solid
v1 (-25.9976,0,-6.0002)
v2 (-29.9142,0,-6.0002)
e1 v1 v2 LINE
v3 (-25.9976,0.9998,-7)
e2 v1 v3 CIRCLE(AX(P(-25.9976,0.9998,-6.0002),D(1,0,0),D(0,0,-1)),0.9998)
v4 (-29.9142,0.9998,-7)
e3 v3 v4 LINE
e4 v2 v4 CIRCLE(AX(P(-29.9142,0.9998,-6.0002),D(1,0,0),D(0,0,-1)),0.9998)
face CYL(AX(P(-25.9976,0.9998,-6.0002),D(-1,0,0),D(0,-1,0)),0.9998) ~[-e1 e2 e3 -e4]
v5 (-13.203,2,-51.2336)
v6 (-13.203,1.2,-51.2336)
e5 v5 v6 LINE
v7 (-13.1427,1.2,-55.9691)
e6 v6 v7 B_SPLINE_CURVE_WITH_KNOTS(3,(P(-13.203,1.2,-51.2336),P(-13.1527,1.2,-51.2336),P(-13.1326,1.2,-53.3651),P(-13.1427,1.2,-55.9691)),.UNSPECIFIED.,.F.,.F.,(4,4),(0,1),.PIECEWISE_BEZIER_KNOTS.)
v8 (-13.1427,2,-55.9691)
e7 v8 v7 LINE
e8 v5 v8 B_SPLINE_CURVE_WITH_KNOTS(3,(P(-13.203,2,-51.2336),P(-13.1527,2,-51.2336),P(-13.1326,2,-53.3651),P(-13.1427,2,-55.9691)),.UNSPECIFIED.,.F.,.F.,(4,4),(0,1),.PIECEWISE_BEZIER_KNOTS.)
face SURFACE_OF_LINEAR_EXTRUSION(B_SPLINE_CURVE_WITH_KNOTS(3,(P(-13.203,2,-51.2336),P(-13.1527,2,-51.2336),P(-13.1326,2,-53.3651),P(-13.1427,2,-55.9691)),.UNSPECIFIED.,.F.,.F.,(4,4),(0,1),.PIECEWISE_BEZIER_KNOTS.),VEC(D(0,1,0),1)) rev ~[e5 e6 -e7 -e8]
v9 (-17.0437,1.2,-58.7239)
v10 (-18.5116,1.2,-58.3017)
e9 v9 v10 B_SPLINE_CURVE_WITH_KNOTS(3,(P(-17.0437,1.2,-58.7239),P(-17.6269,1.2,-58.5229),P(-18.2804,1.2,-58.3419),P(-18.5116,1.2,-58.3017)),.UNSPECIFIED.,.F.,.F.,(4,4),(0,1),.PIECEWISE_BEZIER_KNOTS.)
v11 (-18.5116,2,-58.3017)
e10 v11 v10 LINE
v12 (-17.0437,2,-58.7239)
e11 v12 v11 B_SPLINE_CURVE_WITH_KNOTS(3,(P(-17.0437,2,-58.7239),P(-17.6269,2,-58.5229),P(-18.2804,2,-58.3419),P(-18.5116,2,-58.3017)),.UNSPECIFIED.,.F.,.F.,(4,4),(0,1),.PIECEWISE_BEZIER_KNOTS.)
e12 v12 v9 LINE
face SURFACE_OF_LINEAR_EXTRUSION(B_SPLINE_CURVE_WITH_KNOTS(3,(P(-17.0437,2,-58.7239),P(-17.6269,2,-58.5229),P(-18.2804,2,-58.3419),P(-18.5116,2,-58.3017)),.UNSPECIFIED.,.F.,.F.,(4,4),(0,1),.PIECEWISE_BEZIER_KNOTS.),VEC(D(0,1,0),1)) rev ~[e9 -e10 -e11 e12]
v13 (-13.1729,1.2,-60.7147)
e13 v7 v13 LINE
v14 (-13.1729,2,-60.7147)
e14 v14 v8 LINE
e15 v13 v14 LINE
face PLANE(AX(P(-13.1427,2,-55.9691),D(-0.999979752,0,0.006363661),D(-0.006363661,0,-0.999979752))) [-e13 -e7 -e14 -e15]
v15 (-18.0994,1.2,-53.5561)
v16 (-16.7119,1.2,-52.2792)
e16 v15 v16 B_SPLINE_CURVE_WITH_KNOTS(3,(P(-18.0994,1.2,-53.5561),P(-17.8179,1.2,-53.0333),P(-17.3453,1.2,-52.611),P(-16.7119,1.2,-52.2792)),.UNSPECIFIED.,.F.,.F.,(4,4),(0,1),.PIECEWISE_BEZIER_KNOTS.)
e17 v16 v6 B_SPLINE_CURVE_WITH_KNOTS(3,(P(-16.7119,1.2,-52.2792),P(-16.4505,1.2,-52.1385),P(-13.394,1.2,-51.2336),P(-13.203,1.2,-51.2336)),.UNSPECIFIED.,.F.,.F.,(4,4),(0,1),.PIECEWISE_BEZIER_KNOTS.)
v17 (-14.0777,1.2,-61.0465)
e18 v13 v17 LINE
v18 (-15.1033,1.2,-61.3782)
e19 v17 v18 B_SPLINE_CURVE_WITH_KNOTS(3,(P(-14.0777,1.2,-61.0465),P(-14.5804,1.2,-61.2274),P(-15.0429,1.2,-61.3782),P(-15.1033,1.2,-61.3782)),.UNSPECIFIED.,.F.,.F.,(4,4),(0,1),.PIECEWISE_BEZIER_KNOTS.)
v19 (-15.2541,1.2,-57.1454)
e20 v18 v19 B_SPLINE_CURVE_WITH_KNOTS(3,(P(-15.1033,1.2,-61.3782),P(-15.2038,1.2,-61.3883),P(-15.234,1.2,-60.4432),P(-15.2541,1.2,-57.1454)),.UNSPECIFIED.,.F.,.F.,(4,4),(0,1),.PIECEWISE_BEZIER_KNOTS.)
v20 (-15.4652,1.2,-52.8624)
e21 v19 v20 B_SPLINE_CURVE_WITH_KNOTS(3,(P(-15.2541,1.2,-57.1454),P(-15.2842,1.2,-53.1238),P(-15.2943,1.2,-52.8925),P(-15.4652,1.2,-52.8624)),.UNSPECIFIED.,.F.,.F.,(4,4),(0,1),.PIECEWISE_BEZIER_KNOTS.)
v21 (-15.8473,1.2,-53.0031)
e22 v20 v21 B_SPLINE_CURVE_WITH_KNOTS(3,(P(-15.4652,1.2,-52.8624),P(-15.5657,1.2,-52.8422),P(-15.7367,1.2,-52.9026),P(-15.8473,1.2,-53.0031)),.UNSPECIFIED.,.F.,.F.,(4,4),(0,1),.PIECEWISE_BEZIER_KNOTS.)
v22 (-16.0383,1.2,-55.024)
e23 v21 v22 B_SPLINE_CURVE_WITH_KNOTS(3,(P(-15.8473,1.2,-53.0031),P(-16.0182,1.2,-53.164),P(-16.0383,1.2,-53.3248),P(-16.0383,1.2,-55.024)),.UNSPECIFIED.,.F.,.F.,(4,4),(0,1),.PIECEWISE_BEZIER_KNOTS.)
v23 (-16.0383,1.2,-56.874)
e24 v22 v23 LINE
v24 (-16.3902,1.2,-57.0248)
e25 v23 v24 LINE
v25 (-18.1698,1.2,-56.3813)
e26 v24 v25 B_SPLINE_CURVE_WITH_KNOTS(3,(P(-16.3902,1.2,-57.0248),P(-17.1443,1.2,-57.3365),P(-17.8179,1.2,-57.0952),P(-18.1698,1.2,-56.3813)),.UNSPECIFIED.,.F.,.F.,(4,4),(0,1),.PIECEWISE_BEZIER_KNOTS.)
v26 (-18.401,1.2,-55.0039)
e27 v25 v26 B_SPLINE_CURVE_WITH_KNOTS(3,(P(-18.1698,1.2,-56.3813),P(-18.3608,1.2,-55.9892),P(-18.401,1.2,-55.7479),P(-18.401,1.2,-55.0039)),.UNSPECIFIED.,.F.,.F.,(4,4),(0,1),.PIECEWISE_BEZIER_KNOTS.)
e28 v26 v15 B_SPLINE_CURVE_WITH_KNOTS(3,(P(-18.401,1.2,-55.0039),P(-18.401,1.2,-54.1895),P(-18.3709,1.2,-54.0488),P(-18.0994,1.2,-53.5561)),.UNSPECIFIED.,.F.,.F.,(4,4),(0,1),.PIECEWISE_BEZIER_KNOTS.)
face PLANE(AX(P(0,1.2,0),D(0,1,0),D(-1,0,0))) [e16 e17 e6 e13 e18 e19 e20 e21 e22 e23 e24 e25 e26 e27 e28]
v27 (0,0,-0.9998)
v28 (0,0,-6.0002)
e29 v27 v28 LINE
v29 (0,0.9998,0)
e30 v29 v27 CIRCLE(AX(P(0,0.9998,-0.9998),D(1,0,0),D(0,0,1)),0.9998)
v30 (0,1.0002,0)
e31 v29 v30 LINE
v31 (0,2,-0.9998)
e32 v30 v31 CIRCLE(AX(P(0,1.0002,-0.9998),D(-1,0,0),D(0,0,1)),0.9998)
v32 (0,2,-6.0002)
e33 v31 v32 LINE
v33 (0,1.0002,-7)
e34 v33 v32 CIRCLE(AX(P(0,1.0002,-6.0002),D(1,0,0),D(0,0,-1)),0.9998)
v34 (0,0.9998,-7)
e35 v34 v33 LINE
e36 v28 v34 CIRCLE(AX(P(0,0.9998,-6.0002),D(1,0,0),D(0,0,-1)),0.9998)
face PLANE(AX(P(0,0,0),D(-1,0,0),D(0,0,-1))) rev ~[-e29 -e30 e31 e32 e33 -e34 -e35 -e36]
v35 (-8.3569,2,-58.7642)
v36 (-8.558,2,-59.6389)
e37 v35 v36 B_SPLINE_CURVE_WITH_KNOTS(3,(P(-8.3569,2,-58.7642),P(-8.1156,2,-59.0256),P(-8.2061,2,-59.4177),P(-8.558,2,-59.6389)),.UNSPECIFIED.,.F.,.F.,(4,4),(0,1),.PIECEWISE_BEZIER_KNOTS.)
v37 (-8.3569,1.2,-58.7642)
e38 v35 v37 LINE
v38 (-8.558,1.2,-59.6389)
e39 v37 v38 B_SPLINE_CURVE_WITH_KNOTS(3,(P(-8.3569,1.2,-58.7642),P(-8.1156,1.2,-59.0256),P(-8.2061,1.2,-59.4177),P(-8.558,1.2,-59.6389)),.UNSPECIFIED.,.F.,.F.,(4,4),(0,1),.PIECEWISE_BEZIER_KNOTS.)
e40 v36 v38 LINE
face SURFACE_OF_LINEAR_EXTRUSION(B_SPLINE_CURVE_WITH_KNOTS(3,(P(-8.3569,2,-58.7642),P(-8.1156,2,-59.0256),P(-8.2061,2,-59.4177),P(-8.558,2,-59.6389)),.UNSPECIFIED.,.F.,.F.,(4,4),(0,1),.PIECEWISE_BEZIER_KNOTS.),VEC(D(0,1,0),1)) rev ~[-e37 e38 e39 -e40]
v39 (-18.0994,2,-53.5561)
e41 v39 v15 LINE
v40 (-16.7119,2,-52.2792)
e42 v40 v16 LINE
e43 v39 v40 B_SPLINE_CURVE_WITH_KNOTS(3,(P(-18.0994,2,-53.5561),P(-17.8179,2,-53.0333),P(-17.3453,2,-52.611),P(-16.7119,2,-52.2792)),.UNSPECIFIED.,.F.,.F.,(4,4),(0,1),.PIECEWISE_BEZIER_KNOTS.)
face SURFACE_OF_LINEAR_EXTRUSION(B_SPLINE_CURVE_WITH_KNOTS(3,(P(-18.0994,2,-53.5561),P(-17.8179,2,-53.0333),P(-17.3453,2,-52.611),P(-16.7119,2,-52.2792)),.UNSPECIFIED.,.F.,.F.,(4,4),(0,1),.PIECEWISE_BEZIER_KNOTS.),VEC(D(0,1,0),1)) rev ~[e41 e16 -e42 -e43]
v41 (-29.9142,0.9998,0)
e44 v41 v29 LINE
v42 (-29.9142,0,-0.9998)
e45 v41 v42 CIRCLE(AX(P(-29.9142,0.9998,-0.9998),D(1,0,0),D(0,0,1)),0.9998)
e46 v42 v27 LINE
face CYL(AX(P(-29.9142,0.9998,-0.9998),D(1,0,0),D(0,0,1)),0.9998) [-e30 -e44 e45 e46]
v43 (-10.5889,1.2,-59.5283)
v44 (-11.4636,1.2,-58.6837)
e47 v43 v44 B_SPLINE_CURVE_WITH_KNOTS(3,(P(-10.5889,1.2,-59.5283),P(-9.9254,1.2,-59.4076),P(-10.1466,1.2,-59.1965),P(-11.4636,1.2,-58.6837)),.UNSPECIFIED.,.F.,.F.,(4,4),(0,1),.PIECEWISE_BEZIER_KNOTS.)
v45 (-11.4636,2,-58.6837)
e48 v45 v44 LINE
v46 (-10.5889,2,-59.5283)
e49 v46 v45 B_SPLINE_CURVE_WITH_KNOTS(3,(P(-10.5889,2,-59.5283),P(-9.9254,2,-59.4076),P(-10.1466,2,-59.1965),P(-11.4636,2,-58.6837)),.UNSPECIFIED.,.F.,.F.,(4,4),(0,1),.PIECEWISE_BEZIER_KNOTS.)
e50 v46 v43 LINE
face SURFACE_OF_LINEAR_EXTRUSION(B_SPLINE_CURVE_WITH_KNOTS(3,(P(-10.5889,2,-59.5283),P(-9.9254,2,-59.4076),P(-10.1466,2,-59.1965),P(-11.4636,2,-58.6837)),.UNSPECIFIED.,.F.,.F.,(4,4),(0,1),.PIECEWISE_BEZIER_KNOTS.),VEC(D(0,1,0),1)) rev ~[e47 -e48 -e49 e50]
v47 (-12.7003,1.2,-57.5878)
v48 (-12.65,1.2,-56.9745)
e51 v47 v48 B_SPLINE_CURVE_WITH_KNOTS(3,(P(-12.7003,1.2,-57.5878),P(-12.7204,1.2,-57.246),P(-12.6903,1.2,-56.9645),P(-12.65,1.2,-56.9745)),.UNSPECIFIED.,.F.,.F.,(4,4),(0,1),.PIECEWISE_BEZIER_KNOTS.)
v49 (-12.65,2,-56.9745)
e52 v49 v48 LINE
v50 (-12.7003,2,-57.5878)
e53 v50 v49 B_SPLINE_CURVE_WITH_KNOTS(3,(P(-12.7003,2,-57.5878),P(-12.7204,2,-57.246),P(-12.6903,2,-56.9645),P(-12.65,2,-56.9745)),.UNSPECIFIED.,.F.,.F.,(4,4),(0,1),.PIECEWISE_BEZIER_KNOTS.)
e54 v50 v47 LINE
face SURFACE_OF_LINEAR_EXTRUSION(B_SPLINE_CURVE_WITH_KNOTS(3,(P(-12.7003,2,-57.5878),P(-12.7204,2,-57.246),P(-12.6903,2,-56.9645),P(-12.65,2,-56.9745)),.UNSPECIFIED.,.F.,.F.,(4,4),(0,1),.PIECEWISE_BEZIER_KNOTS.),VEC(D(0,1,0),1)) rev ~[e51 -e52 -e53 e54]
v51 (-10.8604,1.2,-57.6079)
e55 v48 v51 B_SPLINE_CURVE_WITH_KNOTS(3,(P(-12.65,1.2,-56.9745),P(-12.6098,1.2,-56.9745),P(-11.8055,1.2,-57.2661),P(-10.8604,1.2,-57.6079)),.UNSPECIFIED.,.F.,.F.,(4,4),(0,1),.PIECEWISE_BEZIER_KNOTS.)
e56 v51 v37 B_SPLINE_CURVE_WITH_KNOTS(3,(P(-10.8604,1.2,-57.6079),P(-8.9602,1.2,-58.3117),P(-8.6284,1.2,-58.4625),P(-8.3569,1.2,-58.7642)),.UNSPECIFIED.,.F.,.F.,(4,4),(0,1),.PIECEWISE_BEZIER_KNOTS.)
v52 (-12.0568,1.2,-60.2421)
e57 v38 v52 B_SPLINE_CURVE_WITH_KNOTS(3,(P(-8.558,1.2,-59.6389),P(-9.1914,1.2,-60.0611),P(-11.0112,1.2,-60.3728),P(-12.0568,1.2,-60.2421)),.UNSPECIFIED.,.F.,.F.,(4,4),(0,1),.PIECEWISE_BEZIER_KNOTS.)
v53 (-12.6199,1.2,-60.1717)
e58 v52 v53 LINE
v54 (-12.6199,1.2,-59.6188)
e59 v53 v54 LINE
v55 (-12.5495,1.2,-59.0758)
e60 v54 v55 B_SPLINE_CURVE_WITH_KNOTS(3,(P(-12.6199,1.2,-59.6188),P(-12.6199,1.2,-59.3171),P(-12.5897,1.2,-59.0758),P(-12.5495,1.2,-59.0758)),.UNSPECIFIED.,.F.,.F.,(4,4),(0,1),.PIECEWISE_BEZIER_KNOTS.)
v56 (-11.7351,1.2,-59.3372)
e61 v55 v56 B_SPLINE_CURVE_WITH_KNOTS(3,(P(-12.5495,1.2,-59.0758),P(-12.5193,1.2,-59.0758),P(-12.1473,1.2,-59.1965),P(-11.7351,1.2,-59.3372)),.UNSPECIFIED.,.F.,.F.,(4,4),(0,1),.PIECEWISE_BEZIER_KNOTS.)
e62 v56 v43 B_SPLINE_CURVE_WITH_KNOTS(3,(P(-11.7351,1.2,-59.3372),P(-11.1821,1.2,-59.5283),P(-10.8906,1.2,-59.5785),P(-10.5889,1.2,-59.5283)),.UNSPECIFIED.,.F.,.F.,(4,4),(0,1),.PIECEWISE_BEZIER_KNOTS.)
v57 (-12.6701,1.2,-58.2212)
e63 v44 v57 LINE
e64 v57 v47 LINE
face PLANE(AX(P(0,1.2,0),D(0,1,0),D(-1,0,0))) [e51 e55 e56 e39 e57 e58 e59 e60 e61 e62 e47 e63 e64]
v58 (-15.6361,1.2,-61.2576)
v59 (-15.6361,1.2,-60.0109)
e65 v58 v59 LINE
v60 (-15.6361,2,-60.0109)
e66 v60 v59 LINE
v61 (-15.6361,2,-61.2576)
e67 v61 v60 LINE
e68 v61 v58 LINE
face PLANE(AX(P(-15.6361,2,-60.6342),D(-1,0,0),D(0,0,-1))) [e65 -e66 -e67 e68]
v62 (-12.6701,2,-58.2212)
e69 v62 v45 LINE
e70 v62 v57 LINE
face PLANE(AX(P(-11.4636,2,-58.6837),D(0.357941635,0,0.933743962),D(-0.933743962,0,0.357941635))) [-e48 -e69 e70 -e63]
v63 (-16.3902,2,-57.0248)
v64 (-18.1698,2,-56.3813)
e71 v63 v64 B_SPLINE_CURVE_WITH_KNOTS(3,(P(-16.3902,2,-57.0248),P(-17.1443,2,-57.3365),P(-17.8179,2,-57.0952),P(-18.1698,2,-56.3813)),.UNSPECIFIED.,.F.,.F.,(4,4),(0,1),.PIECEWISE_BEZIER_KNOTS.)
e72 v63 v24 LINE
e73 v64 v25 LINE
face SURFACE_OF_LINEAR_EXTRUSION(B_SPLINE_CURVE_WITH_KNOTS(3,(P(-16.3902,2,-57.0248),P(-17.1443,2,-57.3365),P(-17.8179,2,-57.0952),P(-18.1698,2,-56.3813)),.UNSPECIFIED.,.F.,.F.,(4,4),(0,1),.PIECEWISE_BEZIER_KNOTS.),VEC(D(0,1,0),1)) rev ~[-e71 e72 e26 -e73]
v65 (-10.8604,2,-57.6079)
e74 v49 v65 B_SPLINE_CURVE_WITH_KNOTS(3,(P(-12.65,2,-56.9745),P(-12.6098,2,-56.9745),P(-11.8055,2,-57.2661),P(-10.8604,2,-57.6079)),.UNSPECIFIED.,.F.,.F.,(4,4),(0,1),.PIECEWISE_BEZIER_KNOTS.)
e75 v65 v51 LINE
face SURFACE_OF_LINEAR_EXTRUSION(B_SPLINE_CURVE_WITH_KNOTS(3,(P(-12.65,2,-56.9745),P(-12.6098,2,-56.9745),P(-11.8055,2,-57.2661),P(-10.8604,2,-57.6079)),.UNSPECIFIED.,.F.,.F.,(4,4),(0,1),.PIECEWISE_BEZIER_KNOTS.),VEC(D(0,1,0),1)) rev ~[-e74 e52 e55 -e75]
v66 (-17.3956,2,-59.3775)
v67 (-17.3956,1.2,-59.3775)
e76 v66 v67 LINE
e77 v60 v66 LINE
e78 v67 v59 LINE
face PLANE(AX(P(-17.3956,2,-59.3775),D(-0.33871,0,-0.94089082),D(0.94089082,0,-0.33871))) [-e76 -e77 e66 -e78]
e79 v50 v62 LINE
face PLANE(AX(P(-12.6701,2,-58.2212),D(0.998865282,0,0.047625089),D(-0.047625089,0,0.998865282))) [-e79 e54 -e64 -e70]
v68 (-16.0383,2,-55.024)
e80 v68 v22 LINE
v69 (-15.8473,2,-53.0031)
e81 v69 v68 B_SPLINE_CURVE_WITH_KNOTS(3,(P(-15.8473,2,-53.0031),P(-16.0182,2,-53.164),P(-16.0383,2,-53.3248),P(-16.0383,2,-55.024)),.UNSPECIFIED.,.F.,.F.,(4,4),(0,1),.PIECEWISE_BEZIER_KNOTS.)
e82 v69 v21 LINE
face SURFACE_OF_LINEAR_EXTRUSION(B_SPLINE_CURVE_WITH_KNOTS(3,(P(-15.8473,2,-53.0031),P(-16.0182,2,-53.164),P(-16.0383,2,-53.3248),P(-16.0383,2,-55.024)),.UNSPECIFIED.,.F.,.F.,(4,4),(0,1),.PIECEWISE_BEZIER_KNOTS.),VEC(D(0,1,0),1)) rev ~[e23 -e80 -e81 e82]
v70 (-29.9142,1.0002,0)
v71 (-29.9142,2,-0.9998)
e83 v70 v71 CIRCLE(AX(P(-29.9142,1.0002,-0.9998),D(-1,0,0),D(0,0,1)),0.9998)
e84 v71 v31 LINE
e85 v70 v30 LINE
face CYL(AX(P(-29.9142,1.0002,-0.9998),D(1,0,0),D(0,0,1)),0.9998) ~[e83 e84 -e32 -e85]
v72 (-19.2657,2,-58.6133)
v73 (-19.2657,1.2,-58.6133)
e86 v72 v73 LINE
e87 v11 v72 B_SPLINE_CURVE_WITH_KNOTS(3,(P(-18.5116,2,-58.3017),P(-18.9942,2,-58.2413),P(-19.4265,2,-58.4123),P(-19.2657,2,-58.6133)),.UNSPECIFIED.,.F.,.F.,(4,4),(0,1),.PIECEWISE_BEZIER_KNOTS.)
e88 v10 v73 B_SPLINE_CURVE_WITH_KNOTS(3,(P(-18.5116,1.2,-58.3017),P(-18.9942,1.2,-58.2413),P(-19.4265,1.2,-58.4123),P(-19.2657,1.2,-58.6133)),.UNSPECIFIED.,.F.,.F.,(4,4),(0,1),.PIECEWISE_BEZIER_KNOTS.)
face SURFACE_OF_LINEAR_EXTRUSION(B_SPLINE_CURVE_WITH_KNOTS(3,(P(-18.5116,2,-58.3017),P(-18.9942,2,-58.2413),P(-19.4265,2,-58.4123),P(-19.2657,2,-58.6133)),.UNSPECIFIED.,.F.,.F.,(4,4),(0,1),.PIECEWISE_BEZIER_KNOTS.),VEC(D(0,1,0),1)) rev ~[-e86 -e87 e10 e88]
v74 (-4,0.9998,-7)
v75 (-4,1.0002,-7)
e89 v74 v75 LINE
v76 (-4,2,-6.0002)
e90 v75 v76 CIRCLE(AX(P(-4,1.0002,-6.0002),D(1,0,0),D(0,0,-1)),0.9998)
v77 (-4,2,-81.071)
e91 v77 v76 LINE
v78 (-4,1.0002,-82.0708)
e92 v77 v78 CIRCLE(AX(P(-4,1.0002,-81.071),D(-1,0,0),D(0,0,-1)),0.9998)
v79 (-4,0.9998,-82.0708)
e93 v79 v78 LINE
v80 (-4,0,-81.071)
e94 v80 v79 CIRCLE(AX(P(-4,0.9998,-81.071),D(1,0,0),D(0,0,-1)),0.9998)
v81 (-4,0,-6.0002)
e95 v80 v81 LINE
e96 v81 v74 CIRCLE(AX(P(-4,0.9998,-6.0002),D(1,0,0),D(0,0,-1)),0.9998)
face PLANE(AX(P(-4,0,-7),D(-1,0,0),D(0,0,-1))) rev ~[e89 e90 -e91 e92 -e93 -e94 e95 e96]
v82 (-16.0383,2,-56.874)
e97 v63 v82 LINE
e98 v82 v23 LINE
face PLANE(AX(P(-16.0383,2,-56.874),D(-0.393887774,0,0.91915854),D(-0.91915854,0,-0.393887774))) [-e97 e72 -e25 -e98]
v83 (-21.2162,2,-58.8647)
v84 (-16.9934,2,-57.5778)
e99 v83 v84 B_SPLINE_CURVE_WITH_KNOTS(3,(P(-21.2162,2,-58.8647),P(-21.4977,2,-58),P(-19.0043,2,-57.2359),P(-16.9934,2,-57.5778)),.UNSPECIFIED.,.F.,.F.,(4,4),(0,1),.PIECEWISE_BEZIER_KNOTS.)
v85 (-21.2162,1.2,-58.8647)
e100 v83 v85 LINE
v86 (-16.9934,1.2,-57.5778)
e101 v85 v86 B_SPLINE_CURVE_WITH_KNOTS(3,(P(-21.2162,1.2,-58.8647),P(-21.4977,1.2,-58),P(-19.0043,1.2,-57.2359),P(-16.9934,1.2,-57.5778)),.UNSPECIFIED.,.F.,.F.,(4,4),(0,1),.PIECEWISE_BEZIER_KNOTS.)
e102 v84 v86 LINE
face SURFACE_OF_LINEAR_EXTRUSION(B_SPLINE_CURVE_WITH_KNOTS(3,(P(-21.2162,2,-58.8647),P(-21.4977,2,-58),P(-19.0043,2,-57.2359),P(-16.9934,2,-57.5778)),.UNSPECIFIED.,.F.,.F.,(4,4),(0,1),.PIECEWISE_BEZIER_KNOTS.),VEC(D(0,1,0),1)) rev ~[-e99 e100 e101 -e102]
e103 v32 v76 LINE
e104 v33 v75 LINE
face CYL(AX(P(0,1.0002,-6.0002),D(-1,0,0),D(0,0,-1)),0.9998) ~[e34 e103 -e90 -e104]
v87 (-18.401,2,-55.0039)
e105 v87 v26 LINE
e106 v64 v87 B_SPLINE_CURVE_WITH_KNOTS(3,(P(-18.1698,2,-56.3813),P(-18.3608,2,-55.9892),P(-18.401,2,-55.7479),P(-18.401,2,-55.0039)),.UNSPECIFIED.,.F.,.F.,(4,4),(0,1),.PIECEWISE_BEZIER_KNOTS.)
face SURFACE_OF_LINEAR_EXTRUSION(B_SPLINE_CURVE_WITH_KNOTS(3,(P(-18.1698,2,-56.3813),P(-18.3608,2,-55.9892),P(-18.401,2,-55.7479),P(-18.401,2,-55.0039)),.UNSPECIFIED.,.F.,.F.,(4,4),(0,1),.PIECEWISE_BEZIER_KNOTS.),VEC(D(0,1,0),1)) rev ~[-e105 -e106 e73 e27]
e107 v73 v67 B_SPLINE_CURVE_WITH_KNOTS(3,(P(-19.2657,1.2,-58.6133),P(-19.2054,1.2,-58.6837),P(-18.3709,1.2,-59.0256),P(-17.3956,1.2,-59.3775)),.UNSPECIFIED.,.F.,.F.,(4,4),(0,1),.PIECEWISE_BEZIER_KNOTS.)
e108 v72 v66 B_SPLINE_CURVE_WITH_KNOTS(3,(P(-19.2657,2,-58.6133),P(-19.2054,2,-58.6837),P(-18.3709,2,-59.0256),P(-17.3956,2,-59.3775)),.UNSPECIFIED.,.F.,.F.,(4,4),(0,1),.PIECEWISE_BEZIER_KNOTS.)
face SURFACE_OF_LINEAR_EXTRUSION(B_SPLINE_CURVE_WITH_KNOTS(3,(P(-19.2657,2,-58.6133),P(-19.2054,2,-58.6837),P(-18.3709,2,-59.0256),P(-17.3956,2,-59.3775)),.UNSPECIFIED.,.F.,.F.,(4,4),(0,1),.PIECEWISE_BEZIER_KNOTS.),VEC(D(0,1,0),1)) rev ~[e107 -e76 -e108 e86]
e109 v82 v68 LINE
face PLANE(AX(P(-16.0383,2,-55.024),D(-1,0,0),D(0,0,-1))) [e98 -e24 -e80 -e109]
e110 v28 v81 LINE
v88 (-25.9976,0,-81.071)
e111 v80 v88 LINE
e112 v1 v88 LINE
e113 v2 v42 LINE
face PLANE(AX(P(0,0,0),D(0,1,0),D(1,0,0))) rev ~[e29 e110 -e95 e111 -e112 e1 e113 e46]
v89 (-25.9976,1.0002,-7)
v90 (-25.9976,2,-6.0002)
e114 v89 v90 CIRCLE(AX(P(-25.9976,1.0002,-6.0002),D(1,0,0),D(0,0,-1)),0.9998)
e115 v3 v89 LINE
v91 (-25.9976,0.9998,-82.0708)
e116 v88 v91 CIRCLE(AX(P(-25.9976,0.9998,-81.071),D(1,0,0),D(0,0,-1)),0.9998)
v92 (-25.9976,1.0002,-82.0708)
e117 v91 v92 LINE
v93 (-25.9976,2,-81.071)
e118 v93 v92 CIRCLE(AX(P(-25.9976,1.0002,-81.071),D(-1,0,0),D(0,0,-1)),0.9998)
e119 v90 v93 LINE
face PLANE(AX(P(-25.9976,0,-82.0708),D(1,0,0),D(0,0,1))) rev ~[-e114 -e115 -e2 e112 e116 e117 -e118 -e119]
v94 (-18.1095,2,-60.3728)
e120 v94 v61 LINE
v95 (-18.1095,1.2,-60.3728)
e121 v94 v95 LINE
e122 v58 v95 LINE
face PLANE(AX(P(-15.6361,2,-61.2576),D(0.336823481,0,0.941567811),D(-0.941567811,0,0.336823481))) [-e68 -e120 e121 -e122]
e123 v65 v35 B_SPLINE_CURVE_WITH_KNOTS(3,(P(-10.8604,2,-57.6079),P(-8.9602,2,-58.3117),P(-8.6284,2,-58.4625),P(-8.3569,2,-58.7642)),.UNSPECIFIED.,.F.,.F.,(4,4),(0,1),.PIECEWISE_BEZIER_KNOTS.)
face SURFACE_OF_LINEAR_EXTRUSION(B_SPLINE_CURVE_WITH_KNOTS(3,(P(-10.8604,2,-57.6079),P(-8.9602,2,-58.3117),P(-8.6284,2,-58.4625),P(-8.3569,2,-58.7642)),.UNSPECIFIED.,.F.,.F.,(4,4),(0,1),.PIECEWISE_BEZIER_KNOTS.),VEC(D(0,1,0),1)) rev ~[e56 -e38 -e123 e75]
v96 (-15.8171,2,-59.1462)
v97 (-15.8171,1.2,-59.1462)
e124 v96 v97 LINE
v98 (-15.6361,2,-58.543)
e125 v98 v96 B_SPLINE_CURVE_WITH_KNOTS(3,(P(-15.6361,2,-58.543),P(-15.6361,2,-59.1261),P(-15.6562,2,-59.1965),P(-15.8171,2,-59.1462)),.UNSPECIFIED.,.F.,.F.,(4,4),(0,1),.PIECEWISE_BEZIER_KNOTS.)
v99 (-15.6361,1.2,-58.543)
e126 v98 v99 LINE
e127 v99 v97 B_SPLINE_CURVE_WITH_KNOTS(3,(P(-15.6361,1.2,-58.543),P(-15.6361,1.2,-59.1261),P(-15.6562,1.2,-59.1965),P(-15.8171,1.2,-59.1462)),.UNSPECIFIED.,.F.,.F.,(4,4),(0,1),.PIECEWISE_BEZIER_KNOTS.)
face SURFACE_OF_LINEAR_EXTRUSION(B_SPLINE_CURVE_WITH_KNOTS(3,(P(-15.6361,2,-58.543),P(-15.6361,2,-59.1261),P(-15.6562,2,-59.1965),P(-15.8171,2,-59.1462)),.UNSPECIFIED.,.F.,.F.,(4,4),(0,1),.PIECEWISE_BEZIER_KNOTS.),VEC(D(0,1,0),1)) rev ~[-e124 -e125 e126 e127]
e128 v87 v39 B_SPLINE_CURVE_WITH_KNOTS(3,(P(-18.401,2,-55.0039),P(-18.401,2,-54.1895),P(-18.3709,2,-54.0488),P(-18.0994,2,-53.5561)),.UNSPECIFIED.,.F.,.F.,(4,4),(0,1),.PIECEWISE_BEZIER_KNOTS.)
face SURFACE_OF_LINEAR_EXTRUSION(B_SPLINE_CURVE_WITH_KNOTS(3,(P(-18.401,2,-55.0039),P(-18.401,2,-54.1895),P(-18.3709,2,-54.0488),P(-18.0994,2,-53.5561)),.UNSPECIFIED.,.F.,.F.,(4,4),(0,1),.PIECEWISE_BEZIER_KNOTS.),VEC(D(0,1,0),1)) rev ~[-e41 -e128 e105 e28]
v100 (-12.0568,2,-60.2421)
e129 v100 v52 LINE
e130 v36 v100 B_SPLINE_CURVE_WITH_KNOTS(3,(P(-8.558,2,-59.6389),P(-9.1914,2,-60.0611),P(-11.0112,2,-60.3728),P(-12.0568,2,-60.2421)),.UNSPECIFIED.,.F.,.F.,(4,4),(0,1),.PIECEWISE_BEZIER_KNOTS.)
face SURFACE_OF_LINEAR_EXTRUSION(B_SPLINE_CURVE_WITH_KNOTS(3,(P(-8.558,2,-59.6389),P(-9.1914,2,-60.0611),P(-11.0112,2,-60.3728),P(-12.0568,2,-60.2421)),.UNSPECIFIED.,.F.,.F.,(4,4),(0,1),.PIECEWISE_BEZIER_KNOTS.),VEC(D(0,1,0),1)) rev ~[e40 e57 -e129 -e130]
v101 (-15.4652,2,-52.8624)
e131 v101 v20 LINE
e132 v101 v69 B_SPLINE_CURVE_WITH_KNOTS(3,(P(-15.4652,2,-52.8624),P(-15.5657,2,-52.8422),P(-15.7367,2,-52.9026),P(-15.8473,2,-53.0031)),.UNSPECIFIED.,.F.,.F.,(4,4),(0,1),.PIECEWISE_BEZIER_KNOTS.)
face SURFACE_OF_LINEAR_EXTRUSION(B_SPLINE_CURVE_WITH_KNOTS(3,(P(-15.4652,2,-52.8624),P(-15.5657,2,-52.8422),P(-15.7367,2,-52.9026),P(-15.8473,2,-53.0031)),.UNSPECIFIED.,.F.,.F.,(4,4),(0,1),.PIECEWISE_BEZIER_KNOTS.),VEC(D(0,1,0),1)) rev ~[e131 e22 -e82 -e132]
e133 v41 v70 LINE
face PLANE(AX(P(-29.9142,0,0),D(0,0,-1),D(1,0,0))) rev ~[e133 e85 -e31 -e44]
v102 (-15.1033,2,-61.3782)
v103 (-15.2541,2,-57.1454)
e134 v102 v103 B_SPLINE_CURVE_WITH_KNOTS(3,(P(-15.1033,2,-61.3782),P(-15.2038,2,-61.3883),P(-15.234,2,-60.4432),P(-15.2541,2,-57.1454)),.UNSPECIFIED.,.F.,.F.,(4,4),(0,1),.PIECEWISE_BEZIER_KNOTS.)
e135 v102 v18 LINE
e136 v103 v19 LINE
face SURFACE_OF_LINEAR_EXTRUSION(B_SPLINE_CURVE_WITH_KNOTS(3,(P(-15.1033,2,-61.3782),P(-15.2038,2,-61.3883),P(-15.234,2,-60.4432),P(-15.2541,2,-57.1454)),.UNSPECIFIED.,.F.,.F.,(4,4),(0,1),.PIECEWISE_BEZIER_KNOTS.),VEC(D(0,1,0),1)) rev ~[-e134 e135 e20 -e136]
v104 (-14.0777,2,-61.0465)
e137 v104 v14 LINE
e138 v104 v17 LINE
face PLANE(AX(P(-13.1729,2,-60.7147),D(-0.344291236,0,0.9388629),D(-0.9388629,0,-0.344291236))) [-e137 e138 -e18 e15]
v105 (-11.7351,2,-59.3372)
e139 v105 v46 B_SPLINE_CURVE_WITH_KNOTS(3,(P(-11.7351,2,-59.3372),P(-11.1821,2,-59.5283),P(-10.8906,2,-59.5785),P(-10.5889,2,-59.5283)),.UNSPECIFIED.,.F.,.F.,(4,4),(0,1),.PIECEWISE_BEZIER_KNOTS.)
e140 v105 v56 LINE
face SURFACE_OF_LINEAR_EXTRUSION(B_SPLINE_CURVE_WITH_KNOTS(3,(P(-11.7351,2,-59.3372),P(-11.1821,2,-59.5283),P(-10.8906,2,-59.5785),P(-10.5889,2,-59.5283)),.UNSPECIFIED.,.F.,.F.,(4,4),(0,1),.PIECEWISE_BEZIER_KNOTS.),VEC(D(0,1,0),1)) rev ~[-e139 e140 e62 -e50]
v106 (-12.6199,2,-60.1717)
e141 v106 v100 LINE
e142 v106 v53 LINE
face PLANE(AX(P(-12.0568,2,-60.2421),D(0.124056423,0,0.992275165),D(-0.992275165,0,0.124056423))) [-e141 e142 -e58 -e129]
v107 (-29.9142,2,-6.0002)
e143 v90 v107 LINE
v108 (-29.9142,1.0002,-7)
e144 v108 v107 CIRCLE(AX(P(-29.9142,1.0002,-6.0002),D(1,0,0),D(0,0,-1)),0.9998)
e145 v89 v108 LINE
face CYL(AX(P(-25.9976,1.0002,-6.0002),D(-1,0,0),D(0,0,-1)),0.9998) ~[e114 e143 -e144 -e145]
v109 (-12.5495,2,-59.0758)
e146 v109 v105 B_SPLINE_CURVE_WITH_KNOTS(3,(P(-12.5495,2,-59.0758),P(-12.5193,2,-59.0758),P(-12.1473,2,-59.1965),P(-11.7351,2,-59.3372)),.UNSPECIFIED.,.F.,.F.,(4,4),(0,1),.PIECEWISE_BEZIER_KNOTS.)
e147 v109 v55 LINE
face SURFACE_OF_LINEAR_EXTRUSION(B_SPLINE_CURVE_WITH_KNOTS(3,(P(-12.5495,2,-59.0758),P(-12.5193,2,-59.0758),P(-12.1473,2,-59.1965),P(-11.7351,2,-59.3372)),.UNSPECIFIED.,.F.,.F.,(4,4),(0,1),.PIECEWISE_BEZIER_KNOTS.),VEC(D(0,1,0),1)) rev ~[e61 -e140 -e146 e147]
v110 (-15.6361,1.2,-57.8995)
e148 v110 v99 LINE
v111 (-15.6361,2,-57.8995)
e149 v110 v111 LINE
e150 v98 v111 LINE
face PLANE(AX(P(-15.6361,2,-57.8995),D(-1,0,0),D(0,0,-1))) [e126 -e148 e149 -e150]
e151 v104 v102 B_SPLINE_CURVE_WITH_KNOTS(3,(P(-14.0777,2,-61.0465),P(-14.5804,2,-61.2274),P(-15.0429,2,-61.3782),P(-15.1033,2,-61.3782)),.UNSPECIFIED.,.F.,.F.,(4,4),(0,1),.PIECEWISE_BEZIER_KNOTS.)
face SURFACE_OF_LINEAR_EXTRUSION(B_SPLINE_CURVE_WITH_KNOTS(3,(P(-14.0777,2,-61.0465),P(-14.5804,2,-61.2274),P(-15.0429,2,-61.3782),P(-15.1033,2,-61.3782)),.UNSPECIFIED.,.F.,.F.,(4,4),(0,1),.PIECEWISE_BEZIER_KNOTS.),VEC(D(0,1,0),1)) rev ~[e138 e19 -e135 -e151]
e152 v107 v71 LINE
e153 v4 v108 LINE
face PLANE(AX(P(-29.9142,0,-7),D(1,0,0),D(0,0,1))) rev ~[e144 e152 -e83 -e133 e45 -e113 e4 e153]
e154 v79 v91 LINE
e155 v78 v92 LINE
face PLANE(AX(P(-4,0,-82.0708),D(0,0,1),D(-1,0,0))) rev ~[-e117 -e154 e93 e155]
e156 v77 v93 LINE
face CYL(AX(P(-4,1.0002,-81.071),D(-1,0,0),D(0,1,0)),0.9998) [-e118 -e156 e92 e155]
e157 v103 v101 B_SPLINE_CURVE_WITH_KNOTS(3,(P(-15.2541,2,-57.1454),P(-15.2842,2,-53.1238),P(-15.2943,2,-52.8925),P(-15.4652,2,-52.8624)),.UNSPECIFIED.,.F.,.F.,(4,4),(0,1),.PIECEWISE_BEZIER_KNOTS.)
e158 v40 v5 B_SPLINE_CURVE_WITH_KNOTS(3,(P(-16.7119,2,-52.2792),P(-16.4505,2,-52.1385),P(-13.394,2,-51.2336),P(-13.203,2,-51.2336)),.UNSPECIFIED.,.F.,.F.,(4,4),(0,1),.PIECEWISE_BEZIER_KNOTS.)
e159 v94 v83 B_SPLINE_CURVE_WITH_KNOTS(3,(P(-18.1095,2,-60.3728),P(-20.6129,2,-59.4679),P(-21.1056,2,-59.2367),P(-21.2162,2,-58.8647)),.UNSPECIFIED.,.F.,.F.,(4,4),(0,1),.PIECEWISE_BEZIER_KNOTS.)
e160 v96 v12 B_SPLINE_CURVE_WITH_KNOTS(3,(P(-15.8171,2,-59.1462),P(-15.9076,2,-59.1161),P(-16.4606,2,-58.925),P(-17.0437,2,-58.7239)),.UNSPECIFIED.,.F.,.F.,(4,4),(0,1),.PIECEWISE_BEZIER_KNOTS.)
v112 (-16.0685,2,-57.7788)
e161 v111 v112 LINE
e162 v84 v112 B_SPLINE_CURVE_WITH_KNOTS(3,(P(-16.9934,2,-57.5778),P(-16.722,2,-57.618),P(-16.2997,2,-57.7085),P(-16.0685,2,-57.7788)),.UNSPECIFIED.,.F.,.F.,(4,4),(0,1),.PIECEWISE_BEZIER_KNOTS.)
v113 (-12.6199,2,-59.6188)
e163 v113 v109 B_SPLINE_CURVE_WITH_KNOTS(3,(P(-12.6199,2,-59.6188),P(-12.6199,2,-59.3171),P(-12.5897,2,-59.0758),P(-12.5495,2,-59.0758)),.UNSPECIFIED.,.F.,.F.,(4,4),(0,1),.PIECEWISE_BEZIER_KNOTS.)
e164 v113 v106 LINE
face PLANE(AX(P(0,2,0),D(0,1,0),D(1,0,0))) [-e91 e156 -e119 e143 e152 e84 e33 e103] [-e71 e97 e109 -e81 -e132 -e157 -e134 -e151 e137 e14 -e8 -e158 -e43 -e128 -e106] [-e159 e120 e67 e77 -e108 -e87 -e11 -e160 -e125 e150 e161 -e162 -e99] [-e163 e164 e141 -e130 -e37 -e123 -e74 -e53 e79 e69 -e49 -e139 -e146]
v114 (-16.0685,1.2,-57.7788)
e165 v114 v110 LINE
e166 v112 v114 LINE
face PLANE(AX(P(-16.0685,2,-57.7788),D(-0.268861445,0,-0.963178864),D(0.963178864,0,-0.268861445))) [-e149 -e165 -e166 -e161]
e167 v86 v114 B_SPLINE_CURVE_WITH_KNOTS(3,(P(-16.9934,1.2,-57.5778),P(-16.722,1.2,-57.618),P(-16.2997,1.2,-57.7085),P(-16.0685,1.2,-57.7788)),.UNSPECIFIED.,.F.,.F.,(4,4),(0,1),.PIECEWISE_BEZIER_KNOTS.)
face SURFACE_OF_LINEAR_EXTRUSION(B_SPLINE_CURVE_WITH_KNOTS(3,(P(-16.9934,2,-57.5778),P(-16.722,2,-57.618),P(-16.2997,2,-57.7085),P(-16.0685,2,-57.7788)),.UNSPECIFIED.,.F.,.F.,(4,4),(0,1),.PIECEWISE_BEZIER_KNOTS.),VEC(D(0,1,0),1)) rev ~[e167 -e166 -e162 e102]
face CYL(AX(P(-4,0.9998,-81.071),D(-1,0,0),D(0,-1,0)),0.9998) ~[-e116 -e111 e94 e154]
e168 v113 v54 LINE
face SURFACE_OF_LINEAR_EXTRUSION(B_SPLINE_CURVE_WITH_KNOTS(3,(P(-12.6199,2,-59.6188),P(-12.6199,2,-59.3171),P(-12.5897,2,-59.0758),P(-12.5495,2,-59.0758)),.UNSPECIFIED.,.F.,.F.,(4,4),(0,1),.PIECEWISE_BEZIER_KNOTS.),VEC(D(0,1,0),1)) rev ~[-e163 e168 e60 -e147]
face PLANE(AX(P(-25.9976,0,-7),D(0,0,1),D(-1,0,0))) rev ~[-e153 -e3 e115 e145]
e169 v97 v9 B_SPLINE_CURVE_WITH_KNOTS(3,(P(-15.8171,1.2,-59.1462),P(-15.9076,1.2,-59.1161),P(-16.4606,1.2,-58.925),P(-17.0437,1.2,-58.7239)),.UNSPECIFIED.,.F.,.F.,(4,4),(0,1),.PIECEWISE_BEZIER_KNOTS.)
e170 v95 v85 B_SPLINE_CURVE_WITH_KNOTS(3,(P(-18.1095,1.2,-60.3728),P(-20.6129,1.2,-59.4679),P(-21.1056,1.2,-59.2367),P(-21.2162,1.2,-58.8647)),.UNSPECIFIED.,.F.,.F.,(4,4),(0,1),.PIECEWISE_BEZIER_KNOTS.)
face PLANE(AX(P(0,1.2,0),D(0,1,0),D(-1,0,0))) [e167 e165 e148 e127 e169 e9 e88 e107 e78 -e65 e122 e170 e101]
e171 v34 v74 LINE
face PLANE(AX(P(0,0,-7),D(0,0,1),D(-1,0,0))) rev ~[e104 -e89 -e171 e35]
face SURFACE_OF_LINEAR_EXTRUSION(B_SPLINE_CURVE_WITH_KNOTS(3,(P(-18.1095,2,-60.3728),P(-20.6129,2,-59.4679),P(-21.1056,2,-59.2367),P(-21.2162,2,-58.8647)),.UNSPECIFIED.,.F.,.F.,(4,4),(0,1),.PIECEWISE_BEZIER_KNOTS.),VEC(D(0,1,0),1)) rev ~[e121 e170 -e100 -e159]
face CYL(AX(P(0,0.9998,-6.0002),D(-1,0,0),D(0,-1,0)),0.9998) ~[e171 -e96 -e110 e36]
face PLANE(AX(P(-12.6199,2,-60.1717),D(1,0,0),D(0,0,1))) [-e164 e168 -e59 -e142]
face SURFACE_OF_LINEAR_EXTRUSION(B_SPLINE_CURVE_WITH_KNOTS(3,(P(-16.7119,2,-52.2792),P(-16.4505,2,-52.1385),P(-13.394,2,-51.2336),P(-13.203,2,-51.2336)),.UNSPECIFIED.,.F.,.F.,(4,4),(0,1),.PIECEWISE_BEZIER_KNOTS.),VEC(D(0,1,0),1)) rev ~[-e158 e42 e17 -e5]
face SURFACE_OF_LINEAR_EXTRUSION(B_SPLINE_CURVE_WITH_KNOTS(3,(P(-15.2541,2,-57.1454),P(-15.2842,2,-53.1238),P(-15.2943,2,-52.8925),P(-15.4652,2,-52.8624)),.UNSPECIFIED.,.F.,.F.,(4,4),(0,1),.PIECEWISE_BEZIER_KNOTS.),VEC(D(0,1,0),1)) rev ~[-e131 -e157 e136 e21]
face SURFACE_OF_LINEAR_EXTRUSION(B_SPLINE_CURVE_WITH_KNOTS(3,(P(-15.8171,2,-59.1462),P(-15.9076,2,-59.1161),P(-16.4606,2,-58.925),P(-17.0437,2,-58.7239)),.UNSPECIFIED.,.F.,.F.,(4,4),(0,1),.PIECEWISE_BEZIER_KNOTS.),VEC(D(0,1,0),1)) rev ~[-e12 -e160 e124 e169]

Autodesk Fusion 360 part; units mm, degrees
sketch "Sketch1" plane through (0, 0, 0) normal (0, 1, 0) x (1, 0, 0)
  line L0 (-29.9142, 7) -> (-29.9142, 0)
  line L1 (-29.9142, 0) -> (0, 0)
  line L2 (0, 0) -> (0, 7)
  line L3 (-4, 7) -> (-4, 82.0708)
  line L4 (-4, 82.0708) -> (-25.9976, 82.0708)
  line L5 (-25.9976, 82.0708) -> (-25.9976, 7)
  line L6 (0, 7) -> (-4, 7)
  line L7 (-25.9976, 7) -> (-29.9142, 7)
extrude "Extrude1" add sketch "Sketch1" along normal blind 2
fillet "Fillet1" radius 1 2 edges at (-14.9571, 2, 0) (-14.9571, 0, 0)
fillet "Fillet2" radius 1 2 edges at (-14.9988, 2, -82.0708) (-14.9988, 0, -82.0708)
fillet "Fillet3" radius 1 2 edges at (-2, 0, -7) (-2, 2, -7)
fillet "Fillet4" radius 1 2 edges at (-27.9559, 0, -7) (-27.9559, 2, -7)
sketch "Sketch2" plane through (0, 2, 0) normal (0, 1, 0) x (-1, 0, 0)
  line L0 (25.9976, -6) -> (29.9142, -6)
  line L1 (29.9142, -6) -> (29.9142, -1)
  line L2 (29.9142, -1) -> (0, -1)
  line L3 (0, -1) -> (0, -6)
  line L4 (0, -6) -> (4, -6)
  line L5 (4, -6) -> (4, -81.0708)
  line L6 (4, -81.0708) -> (25.9976, -81.0708)
  line L7 (25.9976, -81.0708) -> (25.9976, -6)
  line L8 (13.1427, -55.9691) -> (13.1729, -60.7147)
  line L9 (13.1729, -60.7147) -> (14.0777, -61.0465)
  spline S0 degree 3 poles (14.0777, -61.0464) (14.5804, -61.2274) (15.0429, -61.3782) (15.1033, -61.3782) knots 0 0 0 0 1 1 1 1
  spline S1 degree 3 poles (15.1033, -61.3782) (15.2038, -61.3883) (15.234, -60.4432) (15.2541, -57.1454) knots 0 0 0 0 1 1 1 1
  spline S2 degree 3 poles (15.2541, -57.1454) (15.2842, -53.1238) (15.2943, -52.8925) (15.4652, -52.8624) knots 0 0 0 0 1 1 1 1
  spline S3 degree 3 poles (15.4652, -52.8624) (15.5657, -52.8422) (15.7367, -52.9026) (15.8473, -53.0031) knots 0 0 0 0 1 1 1 1
  spline S4 degree 3 poles (15.8473, -53.0031) (16.0182, -53.164) (16.0383, -53.3248) (16.0383, -55.024) knots 0 0 0 0 1 1 1 1
  line L10 (16.0383, -55.024) -> (16.0383, -56.874)
  line L11 (16.0383, -56.874) -> (16.3902, -57.0248)
  spline S5 degree 3 poles (16.3902, -57.0248) (17.1443, -57.3365) (17.8179, -57.0952) (18.1698, -56.3813) knots 0 0 0 0 1 1 1 1
  spline S6 degree 3 poles (18.1698, -56.3813) (18.3608, -55.9892) (18.401, -55.7479) (18.401, -55.0039) knots 0 0 0 0 1 1 1 1
  spline S7 degree 3 poles (18.401, -55.0039) (18.401, -54.1895) (18.3709, -54.0488) (18.0994, -53.5561) knots 0 0 0 0 1 1 1 1
  spline S8 degree 3 poles (18.0994, -53.5561) (17.8179, -53.0333) (17.3453, -52.611) (16.7119, -52.2792) knots 0 0 0 0 1 1 1 1
  spline S9 degree 3 poles (16.7119, -52.2792) (16.4505, -52.1385) (13.394, -51.2336) (13.203, -51.2336) knots 0 0 0 0 1 1 1 1
  spline S10 degree 3 poles (13.203, -51.2336) (13.1527, -51.2336) (13.1326, -53.3651) (13.1427, -55.9691) knots 0 0 0 0 1 1 1 1
  spline S11 degree 3 poles (10.8604, -57.6079) (8.9602, -58.3117) (8.6284, -58.4625) (8.3569, -58.7642) knots 0 0 0 0 1 1 1 1
  spline S12 degree 3 poles (8.3569, -58.7642) (8.1156, -59.0256) (8.2061, -59.4177) (8.558, -59.6389) knots 0 0 0 0 1 1 1 1
  spline S13 degree 3 poles (8.558, -59.6389) (9.1914, -60.0611) (11.0112, -60.3728) (12.0568, -60.2421) knots 0 0 0 0 1 1 1 1
  line L12 (12.0568, -60.2421) -> (12.6199, -60.1717)
  line L13 (12.6199, -60.1717) -> (12.6199, -59.6188)
  spline S14 degree 3 poles (12.6199, -59.6188) (12.6199, -59.3171) (12.5897, -59.0758) (12.5495, -59.0758) knots 0 0 0 0 1 1 1 1
  spline S15 degree 3 poles (12.5495, -59.0758) (12.5193, -59.0758) (12.1473, -59.1965) (11.7351, -59.3372) knots 0 0 0 0 1 1 1 1
  spline S16 degree 3 poles (11.7351, -59.3372) (11.1821, -59.5283) (10.8906, -59.5785) (10.5889, -59.5283) knots 0 0 0 0 1 1 1 1
  spline S17 degree 3 poles (10.5889, -59.5283) (9.9254, -59.4076) (10.1466, -59.1965) (11.4636, -58.6837) knots 0 0 0 0 1 1 1 1
  line L14 (11.4636, -58.6837) -> (12.6701, -58.2212)
  line L15 (12.6701, -58.2212) -> (12.7003, -57.5878)
  spline S18 degree 3 poles (12.7003, -57.5878) (12.7204, -57.246) (12.6903, -56.9645) (12.65, -56.9745) knots 0 0 0 0 1 1 1 1
  spline S19 degree 3 poles (12.65, -56.9745) (12.6098, -56.9745) (11.8055, -57.2661) (10.8604, -57.6079) knots 0 0 0 0 1 1 1 1
  spline S20 degree 3 poles (16.9934, -57.5778) (16.722, -57.618) (16.2997, -57.7085) (16.0685, -57.7788) knots 0 0 0 0 1 1 1 1
  line L16 (16.0685, -57.7788) -> (15.6361, -57.8995)
  line L17 (15.6361, -57.8995) -> (15.6361, -58.543)
  spline S21 degree 3 poles (15.6361, -58.543) (15.6361, -59.1261) (15.6562, -59.1965) (15.8171, -59.1462) knots 0 0 0 0 1 1 1 1
  spline S22 degree 3 poles (15.8171, -59.1462) (15.9076, -59.1161) (16.4606, -58.925) (17.0437, -58.7239) knots 0 0 0 0 1 1 1 1
  spline S23 degree 3 poles (17.0437, -58.7239) (17.6269, -58.5229) (18.2804, -58.3419) (18.5116, -58.3017) knots 0 0 0 0 1 1 1 1
  spline S24 degree 3 poles (18.5116, -58.3017) (18.9942, -58.2413) (19.4265, -58.4123) (19.2657, -58.6133) knots 0 0 0 0 1 1 1 1
  spline S25 degree 3 poles (19.2657, -58.6133) (19.2054, -58.6837) (18.3709, -59.0256) (17.3956, -59.3775) knots 0 0 0 0 1 1 1 1
  line L18 (17.3956, -59.3775) -> (15.6361, -60.0109)
  line L19 (15.6361, -60.0109) -> (15.6361, -60.6342)
  line L20 (15.6361, -60.6342) -> (15.6361, -61.2576)
  line L21 (15.6361, -61.2576) -> (18.1095, -60.3728)
  spline S26 degree 3 poles (18.1095, -60.3728) (20.6129, -59.4679) (21.1056, -59.2367) (21.2162, -58.8647) knots 0 0 0 0 1 1 1 1
  spline S27 degree 3 poles (21.2162, -58.8647) (21.4977, -58) (19.0043, -57.2359) (16.9934, -57.5778) knots 0 0 0 0 1 1 1 1
extrude "Extrude2" cut sketch "Sketch2" along normal mid plane 1.6 contours L8 L9 S0 S1 S2 S3 S4 L10 L11 S5 S6 S7 S8 S9 S10 | S11 S12 S13 L12 L13 S14 S15 S16 S17 L14 L15 S18 S19 | S20 L16 L17 S21 S22 S23 S24 S25 L18 L19 L20 L21 S26 S27
